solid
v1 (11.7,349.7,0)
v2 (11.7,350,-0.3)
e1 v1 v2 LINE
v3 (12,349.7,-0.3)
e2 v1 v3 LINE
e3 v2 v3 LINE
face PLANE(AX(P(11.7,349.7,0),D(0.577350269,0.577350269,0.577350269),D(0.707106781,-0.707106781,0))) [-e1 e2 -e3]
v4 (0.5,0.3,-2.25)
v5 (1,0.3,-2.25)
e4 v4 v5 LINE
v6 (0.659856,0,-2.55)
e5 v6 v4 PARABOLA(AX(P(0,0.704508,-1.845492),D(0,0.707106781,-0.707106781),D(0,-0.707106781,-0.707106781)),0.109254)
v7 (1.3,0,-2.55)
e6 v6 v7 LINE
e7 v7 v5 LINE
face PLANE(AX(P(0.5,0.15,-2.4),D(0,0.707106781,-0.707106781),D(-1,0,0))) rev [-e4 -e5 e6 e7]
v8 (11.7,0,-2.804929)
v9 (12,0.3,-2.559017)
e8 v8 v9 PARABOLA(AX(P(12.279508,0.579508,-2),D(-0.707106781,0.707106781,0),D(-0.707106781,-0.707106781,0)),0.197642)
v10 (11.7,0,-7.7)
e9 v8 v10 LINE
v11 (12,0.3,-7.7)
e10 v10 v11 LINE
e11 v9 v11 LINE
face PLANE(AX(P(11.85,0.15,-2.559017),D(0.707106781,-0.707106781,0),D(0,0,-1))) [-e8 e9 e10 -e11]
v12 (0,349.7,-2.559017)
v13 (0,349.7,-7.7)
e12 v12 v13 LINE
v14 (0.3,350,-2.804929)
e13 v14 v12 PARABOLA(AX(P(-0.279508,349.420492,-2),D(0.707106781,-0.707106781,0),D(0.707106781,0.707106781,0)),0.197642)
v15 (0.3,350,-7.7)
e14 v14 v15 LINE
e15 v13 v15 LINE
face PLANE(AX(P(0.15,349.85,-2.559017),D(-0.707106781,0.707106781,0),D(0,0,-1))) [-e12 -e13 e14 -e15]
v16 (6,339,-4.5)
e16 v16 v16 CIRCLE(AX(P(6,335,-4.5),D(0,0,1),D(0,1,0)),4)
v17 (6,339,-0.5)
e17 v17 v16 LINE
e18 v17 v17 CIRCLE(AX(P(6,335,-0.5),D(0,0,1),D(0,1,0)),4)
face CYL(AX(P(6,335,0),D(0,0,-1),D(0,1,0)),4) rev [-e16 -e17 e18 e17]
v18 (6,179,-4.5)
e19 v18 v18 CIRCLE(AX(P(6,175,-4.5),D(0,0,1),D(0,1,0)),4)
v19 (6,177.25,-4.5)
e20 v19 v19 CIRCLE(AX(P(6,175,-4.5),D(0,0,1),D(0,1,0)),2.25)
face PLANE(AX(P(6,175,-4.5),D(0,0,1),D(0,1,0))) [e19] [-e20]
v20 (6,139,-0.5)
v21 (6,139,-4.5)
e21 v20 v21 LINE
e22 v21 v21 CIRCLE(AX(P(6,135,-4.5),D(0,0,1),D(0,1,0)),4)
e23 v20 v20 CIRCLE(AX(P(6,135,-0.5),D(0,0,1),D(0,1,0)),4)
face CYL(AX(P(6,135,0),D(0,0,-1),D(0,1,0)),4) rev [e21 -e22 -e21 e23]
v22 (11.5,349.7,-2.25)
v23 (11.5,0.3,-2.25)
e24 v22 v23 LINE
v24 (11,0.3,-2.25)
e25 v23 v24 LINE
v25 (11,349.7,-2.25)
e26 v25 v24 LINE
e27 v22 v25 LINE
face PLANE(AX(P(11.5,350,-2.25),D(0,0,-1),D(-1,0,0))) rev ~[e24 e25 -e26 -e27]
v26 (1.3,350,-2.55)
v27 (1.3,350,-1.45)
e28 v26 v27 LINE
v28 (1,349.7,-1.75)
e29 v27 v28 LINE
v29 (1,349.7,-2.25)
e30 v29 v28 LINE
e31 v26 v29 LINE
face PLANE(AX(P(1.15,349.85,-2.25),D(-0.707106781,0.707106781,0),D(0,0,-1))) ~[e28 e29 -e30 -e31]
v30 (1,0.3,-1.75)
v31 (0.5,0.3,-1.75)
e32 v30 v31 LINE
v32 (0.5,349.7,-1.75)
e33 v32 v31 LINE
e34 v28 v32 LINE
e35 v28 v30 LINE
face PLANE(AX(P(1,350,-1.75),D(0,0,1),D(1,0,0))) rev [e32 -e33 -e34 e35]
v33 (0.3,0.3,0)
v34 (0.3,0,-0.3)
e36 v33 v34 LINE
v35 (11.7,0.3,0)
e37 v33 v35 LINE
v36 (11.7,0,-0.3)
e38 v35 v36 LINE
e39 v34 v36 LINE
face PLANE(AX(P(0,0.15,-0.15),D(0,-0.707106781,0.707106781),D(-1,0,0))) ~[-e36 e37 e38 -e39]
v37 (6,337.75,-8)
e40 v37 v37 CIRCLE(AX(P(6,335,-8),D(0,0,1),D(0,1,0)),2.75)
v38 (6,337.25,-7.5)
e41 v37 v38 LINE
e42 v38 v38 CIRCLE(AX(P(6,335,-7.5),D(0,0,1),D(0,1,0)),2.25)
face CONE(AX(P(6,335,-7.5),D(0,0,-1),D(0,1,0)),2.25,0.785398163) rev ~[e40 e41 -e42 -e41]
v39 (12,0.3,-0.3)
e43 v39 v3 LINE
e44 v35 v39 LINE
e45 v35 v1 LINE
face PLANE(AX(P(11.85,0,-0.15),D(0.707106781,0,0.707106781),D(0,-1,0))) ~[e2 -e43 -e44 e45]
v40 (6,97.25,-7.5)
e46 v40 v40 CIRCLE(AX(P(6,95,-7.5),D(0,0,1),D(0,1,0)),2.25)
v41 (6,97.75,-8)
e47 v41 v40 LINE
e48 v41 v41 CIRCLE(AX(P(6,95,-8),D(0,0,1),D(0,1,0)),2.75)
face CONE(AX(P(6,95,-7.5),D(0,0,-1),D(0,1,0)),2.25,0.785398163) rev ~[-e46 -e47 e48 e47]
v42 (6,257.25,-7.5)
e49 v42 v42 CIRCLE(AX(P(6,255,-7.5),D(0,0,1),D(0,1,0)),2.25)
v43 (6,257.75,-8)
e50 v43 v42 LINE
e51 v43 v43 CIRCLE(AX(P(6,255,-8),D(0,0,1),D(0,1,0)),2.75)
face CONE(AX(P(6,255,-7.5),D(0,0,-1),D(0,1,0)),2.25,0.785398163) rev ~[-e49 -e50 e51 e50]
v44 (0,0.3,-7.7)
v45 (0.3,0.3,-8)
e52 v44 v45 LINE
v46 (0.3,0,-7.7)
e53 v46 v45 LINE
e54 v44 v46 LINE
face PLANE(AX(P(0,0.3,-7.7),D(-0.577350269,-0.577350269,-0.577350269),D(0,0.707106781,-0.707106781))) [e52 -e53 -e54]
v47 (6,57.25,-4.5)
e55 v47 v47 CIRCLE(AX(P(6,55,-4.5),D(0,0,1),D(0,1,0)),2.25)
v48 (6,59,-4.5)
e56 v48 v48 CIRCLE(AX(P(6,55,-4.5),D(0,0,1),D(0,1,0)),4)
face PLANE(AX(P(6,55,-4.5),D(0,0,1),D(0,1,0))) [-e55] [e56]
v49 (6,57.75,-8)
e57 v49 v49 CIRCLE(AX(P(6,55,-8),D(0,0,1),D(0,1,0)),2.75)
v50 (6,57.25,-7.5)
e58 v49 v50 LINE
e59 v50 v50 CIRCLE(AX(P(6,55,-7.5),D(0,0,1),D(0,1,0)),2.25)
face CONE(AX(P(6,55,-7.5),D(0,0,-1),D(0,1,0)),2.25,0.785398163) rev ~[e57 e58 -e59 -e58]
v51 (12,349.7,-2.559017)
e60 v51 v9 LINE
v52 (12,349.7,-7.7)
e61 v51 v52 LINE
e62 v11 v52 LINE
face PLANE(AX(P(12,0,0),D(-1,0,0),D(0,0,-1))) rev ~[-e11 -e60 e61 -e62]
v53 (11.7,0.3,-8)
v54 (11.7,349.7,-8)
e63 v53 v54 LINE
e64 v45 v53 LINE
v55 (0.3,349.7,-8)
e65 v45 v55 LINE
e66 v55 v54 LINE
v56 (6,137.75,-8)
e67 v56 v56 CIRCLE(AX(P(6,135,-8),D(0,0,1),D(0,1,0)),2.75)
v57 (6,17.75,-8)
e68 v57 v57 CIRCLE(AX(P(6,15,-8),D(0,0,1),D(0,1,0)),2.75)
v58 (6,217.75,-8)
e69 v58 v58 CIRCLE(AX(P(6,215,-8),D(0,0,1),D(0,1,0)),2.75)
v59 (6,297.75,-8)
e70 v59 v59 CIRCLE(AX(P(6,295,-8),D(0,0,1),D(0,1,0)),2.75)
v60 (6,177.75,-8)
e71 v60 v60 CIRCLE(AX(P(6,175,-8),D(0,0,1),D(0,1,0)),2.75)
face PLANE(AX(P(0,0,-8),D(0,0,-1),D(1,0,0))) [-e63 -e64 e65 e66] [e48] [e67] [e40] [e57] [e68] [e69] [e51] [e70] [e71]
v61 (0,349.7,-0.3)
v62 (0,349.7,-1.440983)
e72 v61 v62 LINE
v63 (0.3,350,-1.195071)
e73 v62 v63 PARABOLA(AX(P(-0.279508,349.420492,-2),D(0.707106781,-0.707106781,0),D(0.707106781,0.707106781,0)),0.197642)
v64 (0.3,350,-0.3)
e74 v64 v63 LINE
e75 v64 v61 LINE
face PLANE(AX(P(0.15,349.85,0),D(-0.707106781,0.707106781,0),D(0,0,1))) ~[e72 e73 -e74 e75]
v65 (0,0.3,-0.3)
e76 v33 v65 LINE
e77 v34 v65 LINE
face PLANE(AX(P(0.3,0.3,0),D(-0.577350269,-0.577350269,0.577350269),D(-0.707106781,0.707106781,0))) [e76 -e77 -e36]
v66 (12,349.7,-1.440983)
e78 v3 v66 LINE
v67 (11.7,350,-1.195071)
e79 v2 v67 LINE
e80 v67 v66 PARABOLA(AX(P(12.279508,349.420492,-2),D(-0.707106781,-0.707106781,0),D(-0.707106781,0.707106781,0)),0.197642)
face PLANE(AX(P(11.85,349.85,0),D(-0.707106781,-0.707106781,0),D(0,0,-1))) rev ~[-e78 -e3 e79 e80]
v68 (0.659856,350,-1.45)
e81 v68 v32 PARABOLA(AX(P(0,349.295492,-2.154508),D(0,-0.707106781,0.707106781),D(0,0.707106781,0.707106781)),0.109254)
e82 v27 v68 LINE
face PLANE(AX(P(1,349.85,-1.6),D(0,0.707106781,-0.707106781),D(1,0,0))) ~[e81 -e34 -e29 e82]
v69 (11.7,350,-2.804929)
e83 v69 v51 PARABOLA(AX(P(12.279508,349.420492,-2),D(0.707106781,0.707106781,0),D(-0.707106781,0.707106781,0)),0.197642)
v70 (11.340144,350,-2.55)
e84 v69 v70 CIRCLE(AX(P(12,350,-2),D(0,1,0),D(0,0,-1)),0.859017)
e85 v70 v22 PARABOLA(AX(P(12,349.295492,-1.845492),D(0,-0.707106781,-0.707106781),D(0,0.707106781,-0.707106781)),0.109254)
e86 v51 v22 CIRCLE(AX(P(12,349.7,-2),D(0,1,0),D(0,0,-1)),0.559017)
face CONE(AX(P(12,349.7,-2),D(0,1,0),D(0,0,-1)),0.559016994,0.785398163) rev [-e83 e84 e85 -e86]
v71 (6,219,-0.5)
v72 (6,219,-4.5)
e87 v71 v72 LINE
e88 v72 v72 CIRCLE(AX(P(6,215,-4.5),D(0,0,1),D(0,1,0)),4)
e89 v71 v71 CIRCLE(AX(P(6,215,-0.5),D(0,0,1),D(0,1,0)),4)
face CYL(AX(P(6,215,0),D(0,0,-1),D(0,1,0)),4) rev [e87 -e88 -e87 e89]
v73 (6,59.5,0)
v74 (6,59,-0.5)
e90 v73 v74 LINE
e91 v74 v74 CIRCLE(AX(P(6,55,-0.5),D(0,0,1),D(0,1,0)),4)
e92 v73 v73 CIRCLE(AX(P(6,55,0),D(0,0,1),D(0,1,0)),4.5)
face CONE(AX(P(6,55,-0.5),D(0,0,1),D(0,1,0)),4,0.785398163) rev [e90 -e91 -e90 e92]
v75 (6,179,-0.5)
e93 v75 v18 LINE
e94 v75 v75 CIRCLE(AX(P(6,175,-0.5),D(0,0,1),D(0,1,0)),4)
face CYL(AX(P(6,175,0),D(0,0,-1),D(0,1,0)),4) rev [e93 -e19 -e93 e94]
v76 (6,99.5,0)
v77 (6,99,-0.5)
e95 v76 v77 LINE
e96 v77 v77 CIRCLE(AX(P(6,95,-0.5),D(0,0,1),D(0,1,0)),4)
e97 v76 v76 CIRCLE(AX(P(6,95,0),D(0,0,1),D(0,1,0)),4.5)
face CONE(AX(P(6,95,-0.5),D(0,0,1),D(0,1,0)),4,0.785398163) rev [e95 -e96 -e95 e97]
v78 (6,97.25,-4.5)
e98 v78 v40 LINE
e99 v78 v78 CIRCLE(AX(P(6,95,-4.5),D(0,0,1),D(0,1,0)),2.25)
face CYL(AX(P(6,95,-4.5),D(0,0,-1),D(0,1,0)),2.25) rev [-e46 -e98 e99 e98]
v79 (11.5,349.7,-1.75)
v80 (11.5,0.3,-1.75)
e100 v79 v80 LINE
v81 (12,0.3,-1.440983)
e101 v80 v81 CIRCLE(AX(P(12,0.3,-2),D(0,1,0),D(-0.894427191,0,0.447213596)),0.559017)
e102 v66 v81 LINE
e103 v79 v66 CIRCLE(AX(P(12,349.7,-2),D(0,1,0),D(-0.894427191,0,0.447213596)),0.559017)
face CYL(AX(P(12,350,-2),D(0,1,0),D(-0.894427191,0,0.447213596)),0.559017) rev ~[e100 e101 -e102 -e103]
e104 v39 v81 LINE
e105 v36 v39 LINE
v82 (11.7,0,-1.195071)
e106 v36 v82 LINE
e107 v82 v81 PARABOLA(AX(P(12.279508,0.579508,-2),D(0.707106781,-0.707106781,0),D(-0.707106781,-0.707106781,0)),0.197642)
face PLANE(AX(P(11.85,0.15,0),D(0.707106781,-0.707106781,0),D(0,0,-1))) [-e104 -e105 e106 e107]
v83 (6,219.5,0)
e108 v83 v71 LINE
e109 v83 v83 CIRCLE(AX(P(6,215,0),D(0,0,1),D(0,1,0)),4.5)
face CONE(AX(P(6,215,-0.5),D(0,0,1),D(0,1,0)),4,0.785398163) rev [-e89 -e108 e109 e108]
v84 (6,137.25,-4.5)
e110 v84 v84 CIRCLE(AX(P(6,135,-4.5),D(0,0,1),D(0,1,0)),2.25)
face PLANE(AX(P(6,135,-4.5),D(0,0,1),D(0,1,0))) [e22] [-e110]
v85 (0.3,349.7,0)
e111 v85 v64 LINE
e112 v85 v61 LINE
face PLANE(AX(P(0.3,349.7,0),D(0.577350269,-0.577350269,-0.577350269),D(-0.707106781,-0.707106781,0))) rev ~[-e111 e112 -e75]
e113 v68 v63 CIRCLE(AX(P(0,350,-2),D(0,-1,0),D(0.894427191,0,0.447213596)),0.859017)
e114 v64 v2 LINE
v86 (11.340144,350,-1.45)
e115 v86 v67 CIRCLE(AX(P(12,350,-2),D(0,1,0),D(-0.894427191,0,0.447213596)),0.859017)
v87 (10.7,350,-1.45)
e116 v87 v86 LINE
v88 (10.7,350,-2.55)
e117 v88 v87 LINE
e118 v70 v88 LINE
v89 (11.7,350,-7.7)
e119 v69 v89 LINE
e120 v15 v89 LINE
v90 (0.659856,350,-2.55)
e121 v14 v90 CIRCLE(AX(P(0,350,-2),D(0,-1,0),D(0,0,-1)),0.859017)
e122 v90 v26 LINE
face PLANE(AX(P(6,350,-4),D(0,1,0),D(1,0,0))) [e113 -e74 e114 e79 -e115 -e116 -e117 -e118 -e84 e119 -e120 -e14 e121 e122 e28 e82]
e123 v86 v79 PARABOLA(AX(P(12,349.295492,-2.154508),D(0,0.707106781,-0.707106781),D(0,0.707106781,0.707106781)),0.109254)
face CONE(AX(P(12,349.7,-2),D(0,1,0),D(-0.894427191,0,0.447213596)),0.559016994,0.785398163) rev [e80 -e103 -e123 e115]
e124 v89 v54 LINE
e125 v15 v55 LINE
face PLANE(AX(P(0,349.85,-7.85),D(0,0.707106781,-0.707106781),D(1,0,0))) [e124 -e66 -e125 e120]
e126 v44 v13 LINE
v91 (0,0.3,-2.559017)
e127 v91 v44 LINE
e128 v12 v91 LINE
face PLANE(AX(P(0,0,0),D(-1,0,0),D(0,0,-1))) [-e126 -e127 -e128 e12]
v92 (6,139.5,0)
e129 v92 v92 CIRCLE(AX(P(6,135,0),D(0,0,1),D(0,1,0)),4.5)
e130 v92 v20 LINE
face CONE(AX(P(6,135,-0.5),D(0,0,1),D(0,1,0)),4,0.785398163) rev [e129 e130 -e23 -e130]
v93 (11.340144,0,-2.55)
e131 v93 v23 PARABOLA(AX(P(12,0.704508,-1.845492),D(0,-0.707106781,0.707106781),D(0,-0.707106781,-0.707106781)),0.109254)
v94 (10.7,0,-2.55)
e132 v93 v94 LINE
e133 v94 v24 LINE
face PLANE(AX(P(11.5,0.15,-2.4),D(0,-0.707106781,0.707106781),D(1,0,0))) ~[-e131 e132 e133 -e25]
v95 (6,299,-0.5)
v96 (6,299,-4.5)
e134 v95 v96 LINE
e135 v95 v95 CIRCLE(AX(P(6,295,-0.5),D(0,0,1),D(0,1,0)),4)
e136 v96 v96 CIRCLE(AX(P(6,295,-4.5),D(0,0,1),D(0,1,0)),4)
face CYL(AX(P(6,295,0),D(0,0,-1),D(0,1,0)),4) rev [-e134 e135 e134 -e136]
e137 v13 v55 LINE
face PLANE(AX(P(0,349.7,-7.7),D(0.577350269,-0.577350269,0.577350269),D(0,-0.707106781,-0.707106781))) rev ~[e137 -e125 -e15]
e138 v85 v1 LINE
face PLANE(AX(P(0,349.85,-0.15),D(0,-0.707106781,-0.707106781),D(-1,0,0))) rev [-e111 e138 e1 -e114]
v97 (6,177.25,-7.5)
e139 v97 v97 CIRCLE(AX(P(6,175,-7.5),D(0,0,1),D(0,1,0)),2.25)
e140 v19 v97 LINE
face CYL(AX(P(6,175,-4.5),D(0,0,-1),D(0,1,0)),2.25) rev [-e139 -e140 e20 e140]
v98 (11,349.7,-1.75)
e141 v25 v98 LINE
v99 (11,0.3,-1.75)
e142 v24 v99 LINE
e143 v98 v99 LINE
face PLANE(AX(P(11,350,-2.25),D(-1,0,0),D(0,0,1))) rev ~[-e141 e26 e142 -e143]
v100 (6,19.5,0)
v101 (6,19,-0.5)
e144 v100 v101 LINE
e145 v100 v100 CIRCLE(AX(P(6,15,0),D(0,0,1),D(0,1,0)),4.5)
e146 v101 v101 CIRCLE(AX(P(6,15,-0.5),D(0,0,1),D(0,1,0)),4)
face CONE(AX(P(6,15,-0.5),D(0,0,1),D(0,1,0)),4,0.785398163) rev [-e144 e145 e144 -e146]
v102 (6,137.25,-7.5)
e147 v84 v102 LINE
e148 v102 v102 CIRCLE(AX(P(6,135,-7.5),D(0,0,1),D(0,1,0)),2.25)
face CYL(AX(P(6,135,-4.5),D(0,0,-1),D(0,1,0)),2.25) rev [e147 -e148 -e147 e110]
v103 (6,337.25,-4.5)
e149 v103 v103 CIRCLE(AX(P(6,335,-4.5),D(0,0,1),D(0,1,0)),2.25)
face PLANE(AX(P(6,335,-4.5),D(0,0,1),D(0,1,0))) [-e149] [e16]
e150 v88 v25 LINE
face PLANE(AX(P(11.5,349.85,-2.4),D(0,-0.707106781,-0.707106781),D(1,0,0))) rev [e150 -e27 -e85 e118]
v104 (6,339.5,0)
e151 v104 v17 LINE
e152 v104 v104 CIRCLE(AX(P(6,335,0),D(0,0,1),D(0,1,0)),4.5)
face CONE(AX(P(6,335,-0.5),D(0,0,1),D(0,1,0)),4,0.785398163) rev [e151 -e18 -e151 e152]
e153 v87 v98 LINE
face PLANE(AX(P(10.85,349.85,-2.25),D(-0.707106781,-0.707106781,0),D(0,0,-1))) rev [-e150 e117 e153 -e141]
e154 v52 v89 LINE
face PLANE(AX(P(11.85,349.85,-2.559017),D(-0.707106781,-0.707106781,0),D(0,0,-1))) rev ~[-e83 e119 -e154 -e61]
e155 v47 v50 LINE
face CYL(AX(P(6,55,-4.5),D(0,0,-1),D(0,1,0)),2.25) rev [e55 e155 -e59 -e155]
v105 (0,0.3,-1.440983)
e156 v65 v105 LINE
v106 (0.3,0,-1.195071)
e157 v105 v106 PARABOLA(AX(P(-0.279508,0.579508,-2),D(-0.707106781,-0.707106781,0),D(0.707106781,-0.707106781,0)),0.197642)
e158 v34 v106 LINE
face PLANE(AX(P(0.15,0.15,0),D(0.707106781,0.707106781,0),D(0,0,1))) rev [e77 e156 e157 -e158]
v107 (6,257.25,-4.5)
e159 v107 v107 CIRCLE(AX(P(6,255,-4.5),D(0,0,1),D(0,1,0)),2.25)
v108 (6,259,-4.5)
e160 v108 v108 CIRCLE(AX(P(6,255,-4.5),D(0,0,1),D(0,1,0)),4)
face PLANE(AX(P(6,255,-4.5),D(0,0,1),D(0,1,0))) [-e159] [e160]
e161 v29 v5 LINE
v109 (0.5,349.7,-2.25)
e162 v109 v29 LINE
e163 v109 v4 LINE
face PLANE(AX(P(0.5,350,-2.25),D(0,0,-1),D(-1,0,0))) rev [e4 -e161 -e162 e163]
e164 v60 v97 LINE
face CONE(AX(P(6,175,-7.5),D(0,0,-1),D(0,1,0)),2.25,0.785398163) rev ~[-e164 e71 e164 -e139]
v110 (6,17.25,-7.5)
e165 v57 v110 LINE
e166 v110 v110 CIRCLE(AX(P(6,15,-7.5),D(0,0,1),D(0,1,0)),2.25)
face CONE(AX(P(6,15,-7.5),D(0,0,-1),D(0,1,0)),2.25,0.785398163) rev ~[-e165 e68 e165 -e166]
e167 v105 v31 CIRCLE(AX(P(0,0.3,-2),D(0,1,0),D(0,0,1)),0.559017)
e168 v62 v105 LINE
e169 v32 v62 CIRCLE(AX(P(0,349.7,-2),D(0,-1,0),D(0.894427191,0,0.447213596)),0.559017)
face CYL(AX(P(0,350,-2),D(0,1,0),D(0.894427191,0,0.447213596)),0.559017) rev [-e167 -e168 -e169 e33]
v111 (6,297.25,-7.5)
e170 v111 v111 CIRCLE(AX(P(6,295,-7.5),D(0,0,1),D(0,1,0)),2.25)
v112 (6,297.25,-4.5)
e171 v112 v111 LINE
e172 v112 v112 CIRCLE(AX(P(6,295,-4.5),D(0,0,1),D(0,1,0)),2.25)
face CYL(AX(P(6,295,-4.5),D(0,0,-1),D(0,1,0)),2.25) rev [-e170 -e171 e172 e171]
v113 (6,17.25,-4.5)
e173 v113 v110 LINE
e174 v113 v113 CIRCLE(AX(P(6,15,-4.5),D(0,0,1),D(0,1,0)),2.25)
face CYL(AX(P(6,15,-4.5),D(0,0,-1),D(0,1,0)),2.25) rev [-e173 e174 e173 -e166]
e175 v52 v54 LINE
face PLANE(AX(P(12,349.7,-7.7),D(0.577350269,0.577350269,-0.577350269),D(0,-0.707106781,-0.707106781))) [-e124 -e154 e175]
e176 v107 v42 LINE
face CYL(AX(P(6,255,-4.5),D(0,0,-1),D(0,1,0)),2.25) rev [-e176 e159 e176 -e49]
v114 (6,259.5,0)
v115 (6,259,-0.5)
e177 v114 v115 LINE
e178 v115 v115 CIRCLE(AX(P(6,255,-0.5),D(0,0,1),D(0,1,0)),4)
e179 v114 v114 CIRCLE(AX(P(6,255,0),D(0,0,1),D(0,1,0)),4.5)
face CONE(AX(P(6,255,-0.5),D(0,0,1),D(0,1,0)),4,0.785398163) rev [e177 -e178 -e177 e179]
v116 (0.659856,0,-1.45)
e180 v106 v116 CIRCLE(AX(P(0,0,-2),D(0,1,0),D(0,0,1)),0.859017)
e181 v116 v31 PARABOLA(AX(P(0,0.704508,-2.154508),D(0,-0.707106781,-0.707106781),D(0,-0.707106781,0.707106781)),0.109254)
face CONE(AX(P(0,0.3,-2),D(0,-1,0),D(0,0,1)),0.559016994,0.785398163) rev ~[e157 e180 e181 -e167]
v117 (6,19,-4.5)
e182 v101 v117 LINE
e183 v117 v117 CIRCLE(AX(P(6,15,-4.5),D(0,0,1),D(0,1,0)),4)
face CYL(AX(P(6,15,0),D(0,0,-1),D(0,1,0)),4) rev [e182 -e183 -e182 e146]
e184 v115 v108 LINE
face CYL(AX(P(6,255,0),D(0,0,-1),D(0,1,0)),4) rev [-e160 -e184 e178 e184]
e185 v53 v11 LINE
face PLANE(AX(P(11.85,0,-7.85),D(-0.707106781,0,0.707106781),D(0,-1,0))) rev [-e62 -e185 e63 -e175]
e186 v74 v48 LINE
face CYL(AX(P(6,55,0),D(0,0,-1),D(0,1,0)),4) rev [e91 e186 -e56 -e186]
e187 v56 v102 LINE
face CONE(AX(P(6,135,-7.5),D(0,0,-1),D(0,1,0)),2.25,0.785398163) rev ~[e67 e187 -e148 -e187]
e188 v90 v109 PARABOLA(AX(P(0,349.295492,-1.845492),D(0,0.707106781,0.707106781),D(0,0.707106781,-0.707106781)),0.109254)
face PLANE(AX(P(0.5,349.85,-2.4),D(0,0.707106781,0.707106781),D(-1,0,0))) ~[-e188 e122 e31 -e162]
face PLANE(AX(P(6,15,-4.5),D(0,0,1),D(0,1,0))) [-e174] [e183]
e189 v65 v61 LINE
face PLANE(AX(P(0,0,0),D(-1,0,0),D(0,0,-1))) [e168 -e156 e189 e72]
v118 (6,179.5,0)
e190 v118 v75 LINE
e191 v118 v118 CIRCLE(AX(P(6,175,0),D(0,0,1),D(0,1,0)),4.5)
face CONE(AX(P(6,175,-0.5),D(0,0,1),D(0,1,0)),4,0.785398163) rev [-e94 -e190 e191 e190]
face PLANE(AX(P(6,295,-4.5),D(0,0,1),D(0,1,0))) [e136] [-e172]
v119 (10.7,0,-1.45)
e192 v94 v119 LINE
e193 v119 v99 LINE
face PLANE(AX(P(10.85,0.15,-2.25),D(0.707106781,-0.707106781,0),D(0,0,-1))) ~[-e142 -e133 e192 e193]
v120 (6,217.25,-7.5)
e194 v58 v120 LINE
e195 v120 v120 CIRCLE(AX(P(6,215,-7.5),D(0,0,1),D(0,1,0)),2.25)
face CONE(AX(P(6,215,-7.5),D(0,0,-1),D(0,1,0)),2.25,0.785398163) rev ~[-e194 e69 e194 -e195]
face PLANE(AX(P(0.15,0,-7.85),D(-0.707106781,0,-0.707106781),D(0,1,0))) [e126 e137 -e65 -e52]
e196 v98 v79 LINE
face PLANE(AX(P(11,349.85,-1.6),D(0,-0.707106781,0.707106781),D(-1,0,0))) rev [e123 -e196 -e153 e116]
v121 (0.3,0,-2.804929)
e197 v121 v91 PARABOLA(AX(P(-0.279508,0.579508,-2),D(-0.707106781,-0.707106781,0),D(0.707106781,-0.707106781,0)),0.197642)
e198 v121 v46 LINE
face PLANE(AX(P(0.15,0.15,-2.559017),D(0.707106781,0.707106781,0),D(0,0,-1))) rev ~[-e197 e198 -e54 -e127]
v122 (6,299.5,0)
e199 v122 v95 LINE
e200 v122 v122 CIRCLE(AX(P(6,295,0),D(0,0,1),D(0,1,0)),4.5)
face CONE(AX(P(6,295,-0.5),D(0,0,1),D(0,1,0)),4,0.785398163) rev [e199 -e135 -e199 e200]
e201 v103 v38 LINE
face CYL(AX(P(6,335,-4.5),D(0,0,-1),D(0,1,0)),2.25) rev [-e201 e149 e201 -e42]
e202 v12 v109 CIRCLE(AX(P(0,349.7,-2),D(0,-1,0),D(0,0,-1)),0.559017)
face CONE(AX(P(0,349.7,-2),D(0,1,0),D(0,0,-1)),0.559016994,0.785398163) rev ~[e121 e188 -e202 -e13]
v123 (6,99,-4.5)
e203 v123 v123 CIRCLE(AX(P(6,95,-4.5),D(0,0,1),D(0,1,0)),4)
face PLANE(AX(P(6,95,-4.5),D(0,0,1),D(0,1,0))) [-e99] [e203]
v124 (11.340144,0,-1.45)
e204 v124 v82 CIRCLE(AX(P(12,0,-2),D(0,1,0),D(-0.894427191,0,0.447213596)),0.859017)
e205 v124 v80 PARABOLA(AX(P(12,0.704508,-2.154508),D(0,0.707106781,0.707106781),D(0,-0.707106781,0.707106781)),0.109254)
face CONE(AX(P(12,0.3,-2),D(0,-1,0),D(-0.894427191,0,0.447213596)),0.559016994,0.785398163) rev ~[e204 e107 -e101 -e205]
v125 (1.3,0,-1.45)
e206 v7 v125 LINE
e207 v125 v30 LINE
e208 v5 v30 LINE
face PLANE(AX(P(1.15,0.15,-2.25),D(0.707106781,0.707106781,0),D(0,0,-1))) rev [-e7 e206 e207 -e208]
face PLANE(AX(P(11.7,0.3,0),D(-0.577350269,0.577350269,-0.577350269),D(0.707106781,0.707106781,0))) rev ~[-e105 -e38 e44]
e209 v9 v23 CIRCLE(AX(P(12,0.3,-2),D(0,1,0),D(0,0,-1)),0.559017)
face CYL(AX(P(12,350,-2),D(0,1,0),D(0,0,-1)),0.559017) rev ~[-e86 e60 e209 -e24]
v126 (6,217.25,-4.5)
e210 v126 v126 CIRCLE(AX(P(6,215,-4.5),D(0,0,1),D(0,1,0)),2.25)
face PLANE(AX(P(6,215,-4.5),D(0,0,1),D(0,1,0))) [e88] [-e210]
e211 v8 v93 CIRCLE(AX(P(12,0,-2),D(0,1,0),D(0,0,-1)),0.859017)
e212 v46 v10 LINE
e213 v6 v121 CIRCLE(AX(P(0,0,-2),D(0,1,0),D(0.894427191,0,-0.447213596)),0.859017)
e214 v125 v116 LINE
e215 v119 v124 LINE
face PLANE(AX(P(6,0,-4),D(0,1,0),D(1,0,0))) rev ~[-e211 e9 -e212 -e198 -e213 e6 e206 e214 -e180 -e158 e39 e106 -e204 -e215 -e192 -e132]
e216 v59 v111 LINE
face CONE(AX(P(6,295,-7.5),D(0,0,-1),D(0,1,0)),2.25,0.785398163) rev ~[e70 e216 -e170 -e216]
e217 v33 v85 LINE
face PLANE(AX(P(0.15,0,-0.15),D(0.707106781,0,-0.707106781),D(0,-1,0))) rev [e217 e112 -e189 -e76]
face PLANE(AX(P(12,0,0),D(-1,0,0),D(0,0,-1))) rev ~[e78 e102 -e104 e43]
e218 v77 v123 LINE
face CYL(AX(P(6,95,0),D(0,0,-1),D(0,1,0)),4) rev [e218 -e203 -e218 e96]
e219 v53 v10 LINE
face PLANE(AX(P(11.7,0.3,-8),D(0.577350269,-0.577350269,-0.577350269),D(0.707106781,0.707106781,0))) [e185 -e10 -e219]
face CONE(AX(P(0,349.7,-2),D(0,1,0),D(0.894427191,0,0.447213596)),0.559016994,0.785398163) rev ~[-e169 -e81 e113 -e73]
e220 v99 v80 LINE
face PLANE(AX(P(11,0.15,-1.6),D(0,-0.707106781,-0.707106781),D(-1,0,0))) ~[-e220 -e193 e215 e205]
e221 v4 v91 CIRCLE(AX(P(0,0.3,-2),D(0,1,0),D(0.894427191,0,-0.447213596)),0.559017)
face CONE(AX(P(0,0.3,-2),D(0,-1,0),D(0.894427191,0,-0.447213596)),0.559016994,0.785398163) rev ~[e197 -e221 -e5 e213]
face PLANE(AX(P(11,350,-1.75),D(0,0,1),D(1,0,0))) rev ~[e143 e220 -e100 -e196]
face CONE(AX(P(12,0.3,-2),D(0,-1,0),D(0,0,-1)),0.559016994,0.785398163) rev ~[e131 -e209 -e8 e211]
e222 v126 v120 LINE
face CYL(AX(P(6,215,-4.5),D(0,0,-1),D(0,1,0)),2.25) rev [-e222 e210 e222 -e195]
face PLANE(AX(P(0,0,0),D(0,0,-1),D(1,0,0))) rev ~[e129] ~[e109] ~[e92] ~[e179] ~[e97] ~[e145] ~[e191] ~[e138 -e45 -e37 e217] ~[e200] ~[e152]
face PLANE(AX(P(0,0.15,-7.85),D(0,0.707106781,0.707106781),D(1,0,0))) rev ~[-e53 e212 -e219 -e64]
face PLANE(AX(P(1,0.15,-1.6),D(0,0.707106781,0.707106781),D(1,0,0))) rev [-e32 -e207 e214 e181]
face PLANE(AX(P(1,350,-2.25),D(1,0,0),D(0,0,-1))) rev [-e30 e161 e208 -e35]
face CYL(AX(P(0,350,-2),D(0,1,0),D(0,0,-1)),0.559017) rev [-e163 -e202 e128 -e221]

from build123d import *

# Parameters (mm, degrees)
SKETCH_1_W                         = 12
SKETCH_1_H                         = 8
EXTRUDE_1_DEPTH                    = 350
CUT_EXTRUDE_1_DEPTH                = 351
CHAMFER_1_SIZE                     = 0.5
PATTERN_LINEAR_1_COUNT             = 9
PATTERN_LINEAR_1_PITCH             = 40
CHAMFER_1_OF_PATTERN_LINEAR_1_SIZE = 0.5
CHAMFER_2_SIZE                     = 0.3


with BuildPart() as part:
    # Эскиз1 → Бобышка-Вытянуть1 (new body)
    with BuildSketch(Plane(origin=(0, 0, 0), x_dir=(1, 0, 0), z_dir=(0, 1, 0))):
        with Locations((6, 4)):
            Rectangle(SKETCH_1_W, SKETCH_1_H)
    extrude(amount=EXTRUDE_1_DEPTH)

    # Эскиз2 → Вырез-Вытянуть1 (cut, through all)
    with BuildSketch(Plane(origin=(0, 350, 0), x_dir=(1, 0, 0), z_dir=(0, 1, 0))):
        with BuildLine():
            Line((11, 2.25), (11, 1.75))
            Line((11, 1.75), (11.5, 1.75))
            ThreePointArc((11.5, 1.75), (11.706107374, 1.524471742), (12, 1.440983006))
            Line((12, 1.440983006), (12, 2.559016994))
            ThreePointArc((12, 2.559016994), (11.706107374, 2.475528258), (11.5, 2.25))
            Line((11.5, 2.25), (11, 2.25))
        make_face()
    cut_extrude_1 = extrude(amount=-CUT_EXTRUDE_1_DEPTH, mode=Mode.SUBTRACT)

    # Зеркальное отражение1: Вырез-Вытянуть1 across plane
    add(cut_extrude_1.mirror(Plane(origin=(6, 0, 0), x_dir=(0, 0, 1), z_dir=(1, 0, 0))), mode=Mode.SUBTRACT)

    # Эскиз4 → Вырез-Повернуть1 (revolve, cut)
    with BuildSketch(Plane(origin=(6, 0, 0), x_dir=(0, 0, -1), z_dir=(1, 0, 0))):
        Polygon((0, 339), (4.5, 339), (4.5, 337.25), (8, 337.25), (8, 335), (0, 335), align=None)
    cut_revolve_1 = revolve(axis=Axis((6, 335, -8), (0, 0, 1)), mode=Mode.SUBTRACT)

    # Фаска1
    chamfer_1_edges = [part.edges().sort_by_distance(p)[0] for p in [
        (6, 331, 0),
        (6, 332.75, -8),
    ]]
    chamfer(chamfer_1_edges, length=CHAMFER_1_SIZE)

    # Линейный массив1: Вырез-Повернуть1 ×9
    with Locations(*[(0, -i * PATTERN_LINEAR_1_PITCH, 0) for i in range(1, PATTERN_LINEAR_1_COUNT)]):
        add(cut_revolve_1, mode=Mode.SUBTRACT)

    # Фаска1 of Линейный массив1
    chamfer_1_of_pattern_linear_1_edges = [part.edges().sort_by_distance(p)[0] for p in [
        (6, 291, 0),
        (6, 292.75, -8),
        (6, 251, 0),
        (6, 252.75, -8),
        (6, 211, 0),
        (6, 212.75, -8),
        (6, 171, 0),
        (6, 172.75, -8),
        (6, 131, 0),
        (6, 132.75, -8),
        (6, 91, 0),
        (6, 92.75, -8),
        (6, 51, 0),
        (6, 52.75, -8),
        (6, 11, 0),
        (6, 12.75, -8),
    ]]
    chamfer(chamfer_1_of_pattern_linear_1_edges, length=CHAMFER_1_OF_PATTERN_LINEAR_1_SIZE)

    # Фаска2
    chamfer_2_edges = [part.edges().sort_by_distance(p)[0] for p in [
        (12, 350, -0.720491503),
        (6, 350, -8),
        (12, 0, -5.279508497),
        (12, 350, -5.279508497),
        (11.25, 0, -2.25),
        (11.706107374, 0, -2.475528258),
        (11.706107374, 0, -1.524471742),
        (11.25, 0, -1.75),
        (11, 0, -2),
        (11.25, 350, -2.25),
        (11, 350, -2),
        (11.25, 350, -1.75),
        (11.706107374, 350, -1.524471742),
        (11.706107374, 350, -2.475528258),
        (0, 0, -0.720491503),
        (0, 350, -0.720491503),
        (0, 350, -5.279508497),
        (0.75, 350, -2.25),
        (1, 350, -2),
        (0.75, 350, -1.75),
        (0.293892626, 350, -1.524471742),
        (0.293892626, 350, -2.475528258),
        (0.75, 0, -2.25),
        (6, 0, -8),
        (1, 0, -2),
        (0.75, 0, -1.75),
        (0.293892626, 0, -1.524471742),
        (0.293892626, 0, -2.475528258),
        (12, 0, -0.720491503),
        (6, 0, 0),
        (0, 0, -5.279508497),
        (6, 350, 0),
        (0, 175, -8),
        (12, 175, -8),
        (12, 175, 0),
        (0, 175, 0),
    ]]
    chamfer(chamfer_2_edges, length=CHAMFER_2_SIZE)


solid = part.part
